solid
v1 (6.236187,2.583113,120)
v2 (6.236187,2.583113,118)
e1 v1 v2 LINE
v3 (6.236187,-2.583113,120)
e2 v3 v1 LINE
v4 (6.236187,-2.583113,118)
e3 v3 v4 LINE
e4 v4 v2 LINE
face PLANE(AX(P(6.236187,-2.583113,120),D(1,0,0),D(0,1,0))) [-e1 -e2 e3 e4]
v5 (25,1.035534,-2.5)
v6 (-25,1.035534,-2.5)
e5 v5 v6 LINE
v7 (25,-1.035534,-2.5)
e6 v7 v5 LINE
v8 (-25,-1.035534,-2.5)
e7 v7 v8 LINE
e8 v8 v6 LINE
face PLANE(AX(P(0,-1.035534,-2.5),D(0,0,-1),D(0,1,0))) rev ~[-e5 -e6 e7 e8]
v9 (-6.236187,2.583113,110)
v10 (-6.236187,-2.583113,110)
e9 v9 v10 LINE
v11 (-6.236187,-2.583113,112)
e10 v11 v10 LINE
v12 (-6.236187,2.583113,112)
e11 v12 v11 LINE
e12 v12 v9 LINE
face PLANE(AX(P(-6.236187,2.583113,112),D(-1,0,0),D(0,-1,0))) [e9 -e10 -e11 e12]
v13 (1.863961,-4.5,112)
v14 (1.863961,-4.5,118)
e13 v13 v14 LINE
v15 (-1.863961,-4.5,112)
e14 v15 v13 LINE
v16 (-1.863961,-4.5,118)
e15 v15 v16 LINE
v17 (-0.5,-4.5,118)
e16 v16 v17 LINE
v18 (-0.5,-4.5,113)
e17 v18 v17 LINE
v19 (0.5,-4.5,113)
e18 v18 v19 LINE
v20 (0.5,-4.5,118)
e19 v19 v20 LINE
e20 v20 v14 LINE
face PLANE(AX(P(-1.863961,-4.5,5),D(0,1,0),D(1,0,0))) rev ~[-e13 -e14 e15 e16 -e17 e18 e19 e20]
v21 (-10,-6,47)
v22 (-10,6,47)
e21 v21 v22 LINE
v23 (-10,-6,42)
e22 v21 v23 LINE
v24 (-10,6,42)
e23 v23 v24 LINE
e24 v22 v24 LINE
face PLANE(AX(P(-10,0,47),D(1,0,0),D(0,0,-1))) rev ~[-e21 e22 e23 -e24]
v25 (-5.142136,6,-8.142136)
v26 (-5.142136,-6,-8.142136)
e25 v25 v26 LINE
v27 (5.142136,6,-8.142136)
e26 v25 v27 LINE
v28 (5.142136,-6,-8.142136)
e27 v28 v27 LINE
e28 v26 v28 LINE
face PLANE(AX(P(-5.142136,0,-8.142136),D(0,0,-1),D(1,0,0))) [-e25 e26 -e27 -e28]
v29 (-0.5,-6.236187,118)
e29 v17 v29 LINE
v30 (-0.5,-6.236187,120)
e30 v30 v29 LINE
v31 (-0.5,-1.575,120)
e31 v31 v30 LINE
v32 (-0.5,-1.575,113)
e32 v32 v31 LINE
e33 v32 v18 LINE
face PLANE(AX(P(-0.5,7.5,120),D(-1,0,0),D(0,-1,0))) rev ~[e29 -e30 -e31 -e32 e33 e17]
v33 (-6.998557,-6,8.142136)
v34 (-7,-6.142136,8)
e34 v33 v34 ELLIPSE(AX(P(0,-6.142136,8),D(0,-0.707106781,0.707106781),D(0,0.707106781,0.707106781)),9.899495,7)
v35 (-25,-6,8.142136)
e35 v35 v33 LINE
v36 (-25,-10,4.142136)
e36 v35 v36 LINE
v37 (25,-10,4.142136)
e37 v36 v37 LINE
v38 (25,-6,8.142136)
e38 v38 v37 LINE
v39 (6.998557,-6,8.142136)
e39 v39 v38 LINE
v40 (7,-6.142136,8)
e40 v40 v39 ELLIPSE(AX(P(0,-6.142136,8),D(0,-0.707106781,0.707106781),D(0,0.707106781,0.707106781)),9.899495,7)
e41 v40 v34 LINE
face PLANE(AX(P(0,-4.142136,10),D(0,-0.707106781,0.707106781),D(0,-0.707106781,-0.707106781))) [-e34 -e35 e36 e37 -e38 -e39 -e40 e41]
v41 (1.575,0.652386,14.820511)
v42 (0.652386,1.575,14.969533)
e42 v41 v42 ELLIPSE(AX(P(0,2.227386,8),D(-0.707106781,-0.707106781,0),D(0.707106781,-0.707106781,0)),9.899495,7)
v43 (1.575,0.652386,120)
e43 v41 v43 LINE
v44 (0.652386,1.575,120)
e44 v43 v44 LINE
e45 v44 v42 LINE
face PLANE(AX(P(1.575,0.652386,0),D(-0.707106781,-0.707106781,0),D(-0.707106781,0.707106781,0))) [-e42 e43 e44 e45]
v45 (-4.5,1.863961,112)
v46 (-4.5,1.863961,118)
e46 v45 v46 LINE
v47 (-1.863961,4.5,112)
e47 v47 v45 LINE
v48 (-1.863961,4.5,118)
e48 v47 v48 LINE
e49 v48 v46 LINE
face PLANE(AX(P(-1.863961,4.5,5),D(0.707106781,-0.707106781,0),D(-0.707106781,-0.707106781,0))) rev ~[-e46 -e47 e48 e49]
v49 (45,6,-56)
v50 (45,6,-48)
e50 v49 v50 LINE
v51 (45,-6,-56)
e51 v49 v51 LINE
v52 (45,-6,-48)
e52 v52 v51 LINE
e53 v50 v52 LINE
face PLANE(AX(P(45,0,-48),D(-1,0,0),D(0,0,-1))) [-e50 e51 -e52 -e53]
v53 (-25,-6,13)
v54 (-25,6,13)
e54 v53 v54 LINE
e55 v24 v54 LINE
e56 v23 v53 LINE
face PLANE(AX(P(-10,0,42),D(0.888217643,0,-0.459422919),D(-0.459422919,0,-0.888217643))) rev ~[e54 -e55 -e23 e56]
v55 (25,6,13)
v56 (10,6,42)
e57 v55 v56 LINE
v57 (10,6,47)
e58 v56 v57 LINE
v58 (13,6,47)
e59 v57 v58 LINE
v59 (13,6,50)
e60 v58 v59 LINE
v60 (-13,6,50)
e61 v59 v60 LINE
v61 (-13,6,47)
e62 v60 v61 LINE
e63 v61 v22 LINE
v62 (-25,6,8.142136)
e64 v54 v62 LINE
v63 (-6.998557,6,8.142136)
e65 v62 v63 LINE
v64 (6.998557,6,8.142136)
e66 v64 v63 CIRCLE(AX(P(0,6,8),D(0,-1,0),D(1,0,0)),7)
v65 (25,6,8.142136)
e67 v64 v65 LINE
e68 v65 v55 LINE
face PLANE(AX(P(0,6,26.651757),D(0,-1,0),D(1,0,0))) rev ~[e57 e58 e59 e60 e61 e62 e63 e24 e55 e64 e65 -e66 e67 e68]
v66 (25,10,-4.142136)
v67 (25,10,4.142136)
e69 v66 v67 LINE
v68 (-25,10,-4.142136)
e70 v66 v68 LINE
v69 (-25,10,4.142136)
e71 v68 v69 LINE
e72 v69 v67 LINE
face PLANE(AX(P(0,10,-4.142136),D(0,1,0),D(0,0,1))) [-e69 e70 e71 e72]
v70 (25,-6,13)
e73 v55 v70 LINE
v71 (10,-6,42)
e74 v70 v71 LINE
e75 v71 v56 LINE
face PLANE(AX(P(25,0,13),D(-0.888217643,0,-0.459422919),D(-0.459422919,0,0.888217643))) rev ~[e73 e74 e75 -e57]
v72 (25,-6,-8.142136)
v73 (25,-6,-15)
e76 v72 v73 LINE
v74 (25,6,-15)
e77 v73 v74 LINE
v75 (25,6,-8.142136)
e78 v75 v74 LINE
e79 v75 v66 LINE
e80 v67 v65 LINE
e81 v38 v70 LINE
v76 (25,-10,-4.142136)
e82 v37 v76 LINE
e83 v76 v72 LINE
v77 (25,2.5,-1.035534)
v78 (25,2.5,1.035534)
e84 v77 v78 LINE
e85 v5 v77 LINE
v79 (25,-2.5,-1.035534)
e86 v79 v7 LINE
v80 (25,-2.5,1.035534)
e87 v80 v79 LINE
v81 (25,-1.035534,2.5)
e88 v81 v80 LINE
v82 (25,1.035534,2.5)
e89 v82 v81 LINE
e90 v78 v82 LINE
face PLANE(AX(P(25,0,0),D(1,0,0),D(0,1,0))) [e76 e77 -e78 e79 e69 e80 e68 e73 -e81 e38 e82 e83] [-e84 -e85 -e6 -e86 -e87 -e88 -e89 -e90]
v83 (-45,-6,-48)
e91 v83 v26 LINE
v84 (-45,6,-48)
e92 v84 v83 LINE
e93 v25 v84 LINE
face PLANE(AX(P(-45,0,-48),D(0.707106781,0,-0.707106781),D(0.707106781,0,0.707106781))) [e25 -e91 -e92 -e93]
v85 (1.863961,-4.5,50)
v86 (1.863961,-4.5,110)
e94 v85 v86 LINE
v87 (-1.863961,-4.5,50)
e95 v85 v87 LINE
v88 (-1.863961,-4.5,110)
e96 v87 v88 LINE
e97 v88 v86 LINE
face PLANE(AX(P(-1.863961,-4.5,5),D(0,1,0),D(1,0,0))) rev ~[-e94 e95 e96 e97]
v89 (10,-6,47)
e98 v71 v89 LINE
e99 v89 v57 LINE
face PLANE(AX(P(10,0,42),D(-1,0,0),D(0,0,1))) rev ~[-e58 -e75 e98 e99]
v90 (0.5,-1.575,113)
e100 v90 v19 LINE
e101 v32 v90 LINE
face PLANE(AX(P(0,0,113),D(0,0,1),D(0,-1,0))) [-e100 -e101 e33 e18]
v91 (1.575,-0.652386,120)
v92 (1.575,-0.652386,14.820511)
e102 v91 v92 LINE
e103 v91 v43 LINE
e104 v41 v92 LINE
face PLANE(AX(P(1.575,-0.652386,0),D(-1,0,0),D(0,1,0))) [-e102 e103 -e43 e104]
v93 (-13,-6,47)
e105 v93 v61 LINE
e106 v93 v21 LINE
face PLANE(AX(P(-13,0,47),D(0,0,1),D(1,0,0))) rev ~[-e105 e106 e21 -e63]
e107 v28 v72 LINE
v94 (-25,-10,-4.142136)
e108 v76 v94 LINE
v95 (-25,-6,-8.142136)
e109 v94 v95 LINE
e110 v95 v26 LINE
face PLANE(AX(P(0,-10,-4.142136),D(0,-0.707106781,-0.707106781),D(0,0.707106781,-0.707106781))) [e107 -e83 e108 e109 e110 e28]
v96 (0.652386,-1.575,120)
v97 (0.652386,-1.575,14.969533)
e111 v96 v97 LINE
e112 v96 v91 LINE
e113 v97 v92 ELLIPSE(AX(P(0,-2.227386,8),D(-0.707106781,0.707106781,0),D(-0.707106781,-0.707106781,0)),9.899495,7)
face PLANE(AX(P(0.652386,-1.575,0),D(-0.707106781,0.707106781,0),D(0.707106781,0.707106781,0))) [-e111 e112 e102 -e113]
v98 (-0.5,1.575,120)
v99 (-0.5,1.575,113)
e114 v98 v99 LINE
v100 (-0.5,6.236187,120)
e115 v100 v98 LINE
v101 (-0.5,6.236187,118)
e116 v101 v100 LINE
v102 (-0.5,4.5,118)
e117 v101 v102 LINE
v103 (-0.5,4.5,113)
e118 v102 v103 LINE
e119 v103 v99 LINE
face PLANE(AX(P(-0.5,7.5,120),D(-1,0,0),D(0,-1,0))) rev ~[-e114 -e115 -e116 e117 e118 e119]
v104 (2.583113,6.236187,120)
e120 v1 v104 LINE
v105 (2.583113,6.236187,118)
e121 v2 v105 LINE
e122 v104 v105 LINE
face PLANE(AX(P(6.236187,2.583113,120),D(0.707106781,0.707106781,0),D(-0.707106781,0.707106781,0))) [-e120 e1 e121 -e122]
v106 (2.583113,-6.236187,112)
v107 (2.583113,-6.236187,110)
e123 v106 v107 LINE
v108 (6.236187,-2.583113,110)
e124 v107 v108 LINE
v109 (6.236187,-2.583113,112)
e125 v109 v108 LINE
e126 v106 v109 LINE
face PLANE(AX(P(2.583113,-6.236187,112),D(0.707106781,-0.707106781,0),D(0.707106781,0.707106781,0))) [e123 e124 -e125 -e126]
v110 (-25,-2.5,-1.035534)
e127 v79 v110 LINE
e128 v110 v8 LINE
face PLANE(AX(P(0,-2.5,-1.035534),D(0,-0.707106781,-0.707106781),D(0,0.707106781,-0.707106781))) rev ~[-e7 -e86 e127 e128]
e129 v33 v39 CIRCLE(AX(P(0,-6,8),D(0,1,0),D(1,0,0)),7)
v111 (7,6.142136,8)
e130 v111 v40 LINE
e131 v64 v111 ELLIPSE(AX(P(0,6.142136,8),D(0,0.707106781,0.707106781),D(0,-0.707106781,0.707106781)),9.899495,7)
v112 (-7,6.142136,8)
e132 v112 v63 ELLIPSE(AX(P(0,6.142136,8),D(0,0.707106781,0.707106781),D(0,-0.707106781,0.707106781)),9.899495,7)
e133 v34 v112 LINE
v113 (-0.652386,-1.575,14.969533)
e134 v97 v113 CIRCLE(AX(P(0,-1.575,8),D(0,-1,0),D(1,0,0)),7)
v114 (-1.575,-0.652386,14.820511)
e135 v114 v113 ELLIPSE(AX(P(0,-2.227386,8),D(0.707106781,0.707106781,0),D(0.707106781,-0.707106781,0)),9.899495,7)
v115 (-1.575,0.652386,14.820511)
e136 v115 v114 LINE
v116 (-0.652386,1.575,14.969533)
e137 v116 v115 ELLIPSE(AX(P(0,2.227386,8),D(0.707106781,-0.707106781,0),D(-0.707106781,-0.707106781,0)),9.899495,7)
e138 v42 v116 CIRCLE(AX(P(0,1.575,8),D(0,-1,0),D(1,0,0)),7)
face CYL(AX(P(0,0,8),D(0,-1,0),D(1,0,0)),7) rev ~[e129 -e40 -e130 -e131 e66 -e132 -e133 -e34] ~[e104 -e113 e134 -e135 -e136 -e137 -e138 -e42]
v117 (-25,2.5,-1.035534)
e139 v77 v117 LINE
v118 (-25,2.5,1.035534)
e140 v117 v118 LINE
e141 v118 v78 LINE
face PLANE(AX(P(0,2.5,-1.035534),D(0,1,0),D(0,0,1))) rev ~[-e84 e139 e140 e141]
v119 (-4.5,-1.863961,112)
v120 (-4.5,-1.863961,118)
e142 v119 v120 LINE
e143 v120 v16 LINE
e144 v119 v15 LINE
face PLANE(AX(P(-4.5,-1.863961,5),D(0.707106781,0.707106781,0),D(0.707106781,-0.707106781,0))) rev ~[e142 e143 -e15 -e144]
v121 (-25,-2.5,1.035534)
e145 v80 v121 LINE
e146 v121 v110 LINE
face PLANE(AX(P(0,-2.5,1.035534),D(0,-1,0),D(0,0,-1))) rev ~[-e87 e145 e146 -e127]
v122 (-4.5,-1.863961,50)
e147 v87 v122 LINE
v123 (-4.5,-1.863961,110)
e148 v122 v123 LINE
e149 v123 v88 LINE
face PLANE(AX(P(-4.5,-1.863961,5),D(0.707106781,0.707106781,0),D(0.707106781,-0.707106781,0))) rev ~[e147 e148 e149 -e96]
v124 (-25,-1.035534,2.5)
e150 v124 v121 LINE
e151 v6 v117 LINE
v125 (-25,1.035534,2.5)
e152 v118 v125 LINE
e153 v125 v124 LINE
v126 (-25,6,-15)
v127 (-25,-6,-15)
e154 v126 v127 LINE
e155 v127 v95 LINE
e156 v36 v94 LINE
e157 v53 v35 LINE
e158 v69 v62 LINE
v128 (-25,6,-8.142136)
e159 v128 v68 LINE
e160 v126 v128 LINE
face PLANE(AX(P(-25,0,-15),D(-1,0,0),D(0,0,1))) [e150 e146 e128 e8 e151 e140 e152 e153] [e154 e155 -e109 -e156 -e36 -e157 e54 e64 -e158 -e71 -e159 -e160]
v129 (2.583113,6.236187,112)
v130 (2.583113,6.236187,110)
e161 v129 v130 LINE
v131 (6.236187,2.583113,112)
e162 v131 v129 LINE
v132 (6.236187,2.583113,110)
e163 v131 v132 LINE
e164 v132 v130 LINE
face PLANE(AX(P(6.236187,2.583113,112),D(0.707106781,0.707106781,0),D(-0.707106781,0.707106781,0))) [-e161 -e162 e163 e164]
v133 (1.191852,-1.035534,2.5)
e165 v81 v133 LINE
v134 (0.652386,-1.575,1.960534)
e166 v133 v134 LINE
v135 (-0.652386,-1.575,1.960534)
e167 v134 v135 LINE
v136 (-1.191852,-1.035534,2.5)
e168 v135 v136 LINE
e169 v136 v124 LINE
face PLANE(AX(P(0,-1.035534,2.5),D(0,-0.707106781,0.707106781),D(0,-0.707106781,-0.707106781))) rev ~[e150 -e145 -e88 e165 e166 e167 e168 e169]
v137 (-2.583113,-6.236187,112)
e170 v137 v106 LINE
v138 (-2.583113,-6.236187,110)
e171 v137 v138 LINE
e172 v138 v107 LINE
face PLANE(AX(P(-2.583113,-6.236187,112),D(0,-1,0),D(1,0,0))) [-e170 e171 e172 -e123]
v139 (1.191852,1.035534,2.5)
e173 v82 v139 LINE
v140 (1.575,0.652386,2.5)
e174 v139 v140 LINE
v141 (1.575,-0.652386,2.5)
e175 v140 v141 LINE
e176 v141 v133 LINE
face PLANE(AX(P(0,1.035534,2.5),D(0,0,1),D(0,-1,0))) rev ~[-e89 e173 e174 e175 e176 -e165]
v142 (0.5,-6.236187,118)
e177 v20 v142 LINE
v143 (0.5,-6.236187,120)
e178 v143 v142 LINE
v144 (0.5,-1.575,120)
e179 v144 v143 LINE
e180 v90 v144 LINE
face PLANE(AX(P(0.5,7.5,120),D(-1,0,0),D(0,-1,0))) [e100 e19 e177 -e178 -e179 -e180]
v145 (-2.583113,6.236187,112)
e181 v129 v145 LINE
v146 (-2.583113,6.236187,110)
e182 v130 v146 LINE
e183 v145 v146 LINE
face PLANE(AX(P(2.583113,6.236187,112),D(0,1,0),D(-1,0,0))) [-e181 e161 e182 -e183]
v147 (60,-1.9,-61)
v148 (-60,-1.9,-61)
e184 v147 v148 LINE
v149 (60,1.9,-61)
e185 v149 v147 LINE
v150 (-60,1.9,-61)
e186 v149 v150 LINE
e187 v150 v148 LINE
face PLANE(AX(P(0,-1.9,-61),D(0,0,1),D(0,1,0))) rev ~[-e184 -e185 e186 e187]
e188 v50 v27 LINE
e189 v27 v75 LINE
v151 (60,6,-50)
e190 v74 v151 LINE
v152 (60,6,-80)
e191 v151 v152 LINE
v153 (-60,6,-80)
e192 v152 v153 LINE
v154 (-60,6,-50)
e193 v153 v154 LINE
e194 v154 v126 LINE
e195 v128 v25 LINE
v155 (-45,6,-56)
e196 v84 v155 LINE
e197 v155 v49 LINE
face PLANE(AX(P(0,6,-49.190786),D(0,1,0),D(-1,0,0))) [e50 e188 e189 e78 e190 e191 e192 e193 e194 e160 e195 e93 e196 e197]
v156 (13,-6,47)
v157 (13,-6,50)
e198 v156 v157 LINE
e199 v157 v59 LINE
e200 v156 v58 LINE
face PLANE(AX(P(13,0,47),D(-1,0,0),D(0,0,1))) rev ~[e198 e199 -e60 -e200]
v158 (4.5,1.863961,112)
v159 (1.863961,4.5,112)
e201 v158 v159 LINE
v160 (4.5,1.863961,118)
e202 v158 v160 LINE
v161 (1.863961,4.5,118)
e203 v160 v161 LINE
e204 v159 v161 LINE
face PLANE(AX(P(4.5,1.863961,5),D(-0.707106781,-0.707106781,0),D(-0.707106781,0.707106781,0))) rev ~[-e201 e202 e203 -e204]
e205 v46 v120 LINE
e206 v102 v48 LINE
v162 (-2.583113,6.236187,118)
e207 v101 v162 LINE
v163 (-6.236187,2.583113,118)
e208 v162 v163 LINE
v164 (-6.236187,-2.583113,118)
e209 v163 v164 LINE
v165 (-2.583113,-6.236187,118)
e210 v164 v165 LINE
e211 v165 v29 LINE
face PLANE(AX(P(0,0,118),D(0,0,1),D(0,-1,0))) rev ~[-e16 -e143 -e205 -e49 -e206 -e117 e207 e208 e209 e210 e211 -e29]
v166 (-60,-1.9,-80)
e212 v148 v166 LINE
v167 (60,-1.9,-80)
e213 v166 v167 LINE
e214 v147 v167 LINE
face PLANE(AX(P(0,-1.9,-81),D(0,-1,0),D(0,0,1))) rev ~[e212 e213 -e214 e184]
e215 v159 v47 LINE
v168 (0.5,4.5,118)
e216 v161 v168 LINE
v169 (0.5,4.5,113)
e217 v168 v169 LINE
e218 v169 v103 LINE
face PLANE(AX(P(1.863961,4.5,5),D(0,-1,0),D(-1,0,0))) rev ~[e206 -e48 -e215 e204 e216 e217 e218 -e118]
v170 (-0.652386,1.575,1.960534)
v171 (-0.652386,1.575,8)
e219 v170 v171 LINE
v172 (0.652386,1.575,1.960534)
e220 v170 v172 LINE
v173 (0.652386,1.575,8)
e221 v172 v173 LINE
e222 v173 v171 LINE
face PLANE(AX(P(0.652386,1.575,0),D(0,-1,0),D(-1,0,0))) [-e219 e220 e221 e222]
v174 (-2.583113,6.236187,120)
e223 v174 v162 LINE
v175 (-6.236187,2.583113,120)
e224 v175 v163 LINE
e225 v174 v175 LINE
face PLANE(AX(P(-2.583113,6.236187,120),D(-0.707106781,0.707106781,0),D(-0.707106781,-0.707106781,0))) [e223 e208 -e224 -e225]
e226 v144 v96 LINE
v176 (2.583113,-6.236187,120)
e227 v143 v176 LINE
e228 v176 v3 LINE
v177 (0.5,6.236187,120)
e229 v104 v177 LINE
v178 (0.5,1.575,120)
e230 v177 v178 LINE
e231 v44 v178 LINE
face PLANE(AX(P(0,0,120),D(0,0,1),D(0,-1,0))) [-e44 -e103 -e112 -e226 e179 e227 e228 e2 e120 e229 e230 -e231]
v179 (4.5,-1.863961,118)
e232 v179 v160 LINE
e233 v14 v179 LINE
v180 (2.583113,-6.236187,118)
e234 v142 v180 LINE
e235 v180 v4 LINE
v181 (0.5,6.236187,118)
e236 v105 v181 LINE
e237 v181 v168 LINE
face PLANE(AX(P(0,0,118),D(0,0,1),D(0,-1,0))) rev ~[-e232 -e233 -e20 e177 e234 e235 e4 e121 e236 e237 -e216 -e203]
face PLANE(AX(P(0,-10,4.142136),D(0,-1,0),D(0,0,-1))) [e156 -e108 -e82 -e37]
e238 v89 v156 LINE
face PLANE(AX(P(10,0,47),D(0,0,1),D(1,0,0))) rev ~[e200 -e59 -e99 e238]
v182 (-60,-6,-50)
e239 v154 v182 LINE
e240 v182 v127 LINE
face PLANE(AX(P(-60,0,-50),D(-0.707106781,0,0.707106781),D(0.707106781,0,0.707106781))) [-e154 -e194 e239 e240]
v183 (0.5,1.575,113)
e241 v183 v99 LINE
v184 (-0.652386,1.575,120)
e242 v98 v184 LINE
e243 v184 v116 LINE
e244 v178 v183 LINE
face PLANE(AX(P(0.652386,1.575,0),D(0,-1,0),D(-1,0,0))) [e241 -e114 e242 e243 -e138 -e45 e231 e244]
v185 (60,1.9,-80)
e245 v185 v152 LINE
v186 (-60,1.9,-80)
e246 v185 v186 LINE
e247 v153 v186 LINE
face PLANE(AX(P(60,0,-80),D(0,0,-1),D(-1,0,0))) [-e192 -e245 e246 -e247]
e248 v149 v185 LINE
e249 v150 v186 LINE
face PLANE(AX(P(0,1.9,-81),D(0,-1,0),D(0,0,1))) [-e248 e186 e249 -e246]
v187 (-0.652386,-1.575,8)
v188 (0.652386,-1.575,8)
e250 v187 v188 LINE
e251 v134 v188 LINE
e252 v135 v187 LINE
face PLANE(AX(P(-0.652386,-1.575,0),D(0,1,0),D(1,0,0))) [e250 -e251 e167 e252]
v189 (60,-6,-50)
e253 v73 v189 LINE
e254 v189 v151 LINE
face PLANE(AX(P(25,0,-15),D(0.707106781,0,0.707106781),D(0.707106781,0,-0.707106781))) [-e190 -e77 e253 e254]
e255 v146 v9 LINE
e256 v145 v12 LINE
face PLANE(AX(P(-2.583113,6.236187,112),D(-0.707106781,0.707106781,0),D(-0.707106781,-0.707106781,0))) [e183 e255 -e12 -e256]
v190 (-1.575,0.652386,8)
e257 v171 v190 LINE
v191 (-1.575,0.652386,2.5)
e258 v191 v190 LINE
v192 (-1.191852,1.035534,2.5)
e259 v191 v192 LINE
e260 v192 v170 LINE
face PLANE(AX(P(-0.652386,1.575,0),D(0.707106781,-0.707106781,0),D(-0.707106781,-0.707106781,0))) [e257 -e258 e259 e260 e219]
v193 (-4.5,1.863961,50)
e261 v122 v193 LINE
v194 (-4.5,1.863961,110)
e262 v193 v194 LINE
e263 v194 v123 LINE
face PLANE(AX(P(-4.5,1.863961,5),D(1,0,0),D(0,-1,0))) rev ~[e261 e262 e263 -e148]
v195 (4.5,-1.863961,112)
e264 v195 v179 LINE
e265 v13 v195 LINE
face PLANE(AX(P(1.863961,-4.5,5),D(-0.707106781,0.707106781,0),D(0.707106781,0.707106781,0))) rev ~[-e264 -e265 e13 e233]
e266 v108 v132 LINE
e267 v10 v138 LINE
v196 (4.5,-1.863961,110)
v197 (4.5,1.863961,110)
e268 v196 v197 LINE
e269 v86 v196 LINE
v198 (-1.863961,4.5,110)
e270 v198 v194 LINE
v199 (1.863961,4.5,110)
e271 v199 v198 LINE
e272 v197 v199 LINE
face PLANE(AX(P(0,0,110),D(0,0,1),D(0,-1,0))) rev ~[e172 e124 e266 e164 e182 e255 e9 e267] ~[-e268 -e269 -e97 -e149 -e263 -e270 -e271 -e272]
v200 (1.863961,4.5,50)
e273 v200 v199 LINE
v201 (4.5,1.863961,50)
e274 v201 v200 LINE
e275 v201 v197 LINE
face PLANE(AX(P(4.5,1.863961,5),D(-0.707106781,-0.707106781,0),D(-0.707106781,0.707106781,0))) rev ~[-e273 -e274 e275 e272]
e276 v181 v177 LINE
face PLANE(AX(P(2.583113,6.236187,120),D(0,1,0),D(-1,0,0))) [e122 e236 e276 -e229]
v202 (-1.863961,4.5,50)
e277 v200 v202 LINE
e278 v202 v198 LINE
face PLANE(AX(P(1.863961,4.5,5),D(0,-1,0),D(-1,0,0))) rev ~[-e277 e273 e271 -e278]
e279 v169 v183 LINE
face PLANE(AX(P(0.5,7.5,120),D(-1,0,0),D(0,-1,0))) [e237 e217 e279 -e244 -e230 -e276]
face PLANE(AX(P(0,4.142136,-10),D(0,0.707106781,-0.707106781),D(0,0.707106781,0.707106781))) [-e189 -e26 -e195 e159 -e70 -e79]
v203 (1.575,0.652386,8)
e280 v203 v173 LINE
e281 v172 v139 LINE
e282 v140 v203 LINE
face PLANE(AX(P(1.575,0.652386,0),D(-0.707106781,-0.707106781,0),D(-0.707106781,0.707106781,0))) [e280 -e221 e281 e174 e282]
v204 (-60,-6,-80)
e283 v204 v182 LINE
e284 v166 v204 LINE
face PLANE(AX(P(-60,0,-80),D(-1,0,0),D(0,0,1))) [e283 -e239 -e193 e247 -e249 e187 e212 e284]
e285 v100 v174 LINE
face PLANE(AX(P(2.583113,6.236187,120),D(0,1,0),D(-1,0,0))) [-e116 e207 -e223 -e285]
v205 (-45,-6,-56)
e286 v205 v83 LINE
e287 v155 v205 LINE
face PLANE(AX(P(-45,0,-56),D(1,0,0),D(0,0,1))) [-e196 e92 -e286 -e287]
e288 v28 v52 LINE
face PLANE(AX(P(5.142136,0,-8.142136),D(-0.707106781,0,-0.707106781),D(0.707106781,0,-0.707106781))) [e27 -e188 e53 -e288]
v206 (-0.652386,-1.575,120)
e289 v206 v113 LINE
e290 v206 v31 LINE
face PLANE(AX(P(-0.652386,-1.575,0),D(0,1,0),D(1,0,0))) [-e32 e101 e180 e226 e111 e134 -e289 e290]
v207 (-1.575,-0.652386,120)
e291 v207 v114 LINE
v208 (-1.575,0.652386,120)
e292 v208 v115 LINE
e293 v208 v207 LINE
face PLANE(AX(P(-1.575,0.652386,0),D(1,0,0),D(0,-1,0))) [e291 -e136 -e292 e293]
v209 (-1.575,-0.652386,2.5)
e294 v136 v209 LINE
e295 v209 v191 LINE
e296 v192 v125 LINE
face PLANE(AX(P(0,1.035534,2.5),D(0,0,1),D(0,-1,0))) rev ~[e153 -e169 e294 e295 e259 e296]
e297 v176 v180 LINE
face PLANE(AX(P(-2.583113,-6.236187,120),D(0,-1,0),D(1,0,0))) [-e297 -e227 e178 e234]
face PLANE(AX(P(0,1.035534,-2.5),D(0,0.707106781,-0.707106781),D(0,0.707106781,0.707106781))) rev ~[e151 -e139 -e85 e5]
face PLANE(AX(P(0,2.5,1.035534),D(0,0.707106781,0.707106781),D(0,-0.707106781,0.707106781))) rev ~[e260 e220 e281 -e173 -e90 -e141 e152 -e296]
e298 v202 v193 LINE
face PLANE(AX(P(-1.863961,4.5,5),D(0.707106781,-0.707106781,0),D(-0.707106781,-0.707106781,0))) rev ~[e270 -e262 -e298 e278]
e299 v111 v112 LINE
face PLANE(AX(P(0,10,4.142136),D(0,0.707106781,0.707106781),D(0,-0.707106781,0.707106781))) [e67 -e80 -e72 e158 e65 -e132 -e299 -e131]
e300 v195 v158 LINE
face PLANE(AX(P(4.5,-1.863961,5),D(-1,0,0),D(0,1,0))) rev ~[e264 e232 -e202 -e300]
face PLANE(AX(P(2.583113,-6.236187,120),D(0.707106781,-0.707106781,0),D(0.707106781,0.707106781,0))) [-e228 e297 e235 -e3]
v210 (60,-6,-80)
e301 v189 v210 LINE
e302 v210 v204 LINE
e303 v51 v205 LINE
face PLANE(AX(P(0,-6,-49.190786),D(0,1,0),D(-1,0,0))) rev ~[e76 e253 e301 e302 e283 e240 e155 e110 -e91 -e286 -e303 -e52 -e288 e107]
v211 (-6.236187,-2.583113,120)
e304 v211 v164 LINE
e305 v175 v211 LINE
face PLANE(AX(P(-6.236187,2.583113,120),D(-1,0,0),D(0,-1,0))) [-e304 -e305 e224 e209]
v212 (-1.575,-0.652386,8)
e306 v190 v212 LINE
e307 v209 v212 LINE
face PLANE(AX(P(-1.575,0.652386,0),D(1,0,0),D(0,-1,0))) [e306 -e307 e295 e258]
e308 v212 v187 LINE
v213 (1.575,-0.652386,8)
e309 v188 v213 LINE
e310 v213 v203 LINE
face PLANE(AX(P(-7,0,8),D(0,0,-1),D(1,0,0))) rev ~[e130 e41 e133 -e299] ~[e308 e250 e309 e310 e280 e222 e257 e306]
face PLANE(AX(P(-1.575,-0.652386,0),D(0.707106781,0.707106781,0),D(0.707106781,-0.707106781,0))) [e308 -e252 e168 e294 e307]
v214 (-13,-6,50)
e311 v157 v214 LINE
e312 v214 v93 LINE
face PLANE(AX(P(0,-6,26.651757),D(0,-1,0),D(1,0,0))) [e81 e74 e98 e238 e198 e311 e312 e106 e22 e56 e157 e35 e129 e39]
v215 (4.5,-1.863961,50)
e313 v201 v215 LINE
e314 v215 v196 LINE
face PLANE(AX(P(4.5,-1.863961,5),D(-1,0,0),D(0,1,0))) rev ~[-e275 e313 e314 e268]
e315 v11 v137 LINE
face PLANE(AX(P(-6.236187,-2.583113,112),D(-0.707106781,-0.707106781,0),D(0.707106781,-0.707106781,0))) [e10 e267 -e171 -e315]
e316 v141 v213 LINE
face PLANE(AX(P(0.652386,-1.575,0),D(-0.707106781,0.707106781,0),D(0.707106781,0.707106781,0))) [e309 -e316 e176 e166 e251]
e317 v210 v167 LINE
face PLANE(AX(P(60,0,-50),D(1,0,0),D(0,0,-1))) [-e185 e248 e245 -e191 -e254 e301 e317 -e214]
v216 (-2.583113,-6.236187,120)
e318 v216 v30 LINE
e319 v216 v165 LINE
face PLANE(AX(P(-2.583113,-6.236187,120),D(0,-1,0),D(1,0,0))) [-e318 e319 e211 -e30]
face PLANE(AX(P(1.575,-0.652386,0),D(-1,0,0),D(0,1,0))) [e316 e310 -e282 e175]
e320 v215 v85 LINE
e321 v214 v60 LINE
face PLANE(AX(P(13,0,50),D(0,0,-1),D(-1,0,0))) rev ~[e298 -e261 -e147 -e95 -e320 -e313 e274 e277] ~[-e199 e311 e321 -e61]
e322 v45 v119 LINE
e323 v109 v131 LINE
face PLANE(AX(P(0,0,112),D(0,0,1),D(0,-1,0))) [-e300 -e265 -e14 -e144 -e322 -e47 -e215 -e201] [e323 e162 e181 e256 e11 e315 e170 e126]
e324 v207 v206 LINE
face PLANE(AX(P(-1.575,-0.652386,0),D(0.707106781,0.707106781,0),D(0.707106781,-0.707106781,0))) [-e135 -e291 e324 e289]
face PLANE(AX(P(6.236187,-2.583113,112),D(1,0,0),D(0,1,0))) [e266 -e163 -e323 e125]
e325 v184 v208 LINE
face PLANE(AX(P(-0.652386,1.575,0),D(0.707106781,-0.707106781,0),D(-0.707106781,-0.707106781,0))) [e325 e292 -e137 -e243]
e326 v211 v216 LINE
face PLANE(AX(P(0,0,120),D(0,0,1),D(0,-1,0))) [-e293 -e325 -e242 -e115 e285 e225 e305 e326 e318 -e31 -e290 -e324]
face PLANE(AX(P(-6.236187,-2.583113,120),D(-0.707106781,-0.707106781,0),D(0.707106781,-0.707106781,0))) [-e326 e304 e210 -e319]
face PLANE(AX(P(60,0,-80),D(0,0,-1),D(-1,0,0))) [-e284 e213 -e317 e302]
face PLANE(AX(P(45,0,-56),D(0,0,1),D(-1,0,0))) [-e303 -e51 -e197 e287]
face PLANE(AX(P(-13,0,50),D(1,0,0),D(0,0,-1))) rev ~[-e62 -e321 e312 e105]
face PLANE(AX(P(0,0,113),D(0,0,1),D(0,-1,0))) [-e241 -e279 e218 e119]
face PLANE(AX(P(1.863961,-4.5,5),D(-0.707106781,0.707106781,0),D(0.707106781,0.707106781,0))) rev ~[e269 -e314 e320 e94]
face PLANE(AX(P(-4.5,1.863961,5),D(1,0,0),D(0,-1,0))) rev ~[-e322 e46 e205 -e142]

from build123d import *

# Parameters (mm, degrees)
PAD_DEPTH            = 25
PAD_DEPTH_BACK       = 25
PAD001_START         = 5
PAD001_DEPTH         = 115
PAD002_DEPTH         = 6
PAD002_DEPTH_BACK    = 6
POCKET_DEPTH         = 10.001
POCKET_DEPTH_BACK    = 10.001
POCKET001_DEPTH      = 120.001
PAD003_DEPTH         = 2
LINEARPATTERN_COUNT  = 2
LINEARPATTERN_PITCH  = 8
SKETCH006_W          = 15
SKETCH006_H          = 1
POCKET002_DEPTH      = 7
PAD004_DEPTH         = 6
PAD004_DEPTH_BACK    = 6
SKETCH008_W          = 3.8
SKETCH008_H          = 20
POCKET003_DEPTH      = 60.001
POCKET003_DEPTH_BACK = 60.001
POCKET004_DEPTH      = 10.001
POCKET004_DEPTH_BACK = 10.001


with BuildPart() as part:
    # Sketch → Pad (new body, two sides)
    with BuildSketch(Plane.YZ) as pad_sk:
        Polygon((10, -4.142136), (10, 4.142136), (4.142136, 10), (-4.142136, 10), (-10, 4.142136), (-10, -4.142136), (-4.142136, -10), (4.142136, -10), align=None)
        Polygon((2.5, 1.035534), (1.035534, 2.5), (-1.035534, 2.5), (-2.5, 1.035534), (-2.5, -1.035534), (-1.035534, -2.5), (1.035534, -2.5), (2.5, -1.035534), align=None, mode=Mode.SUBTRACT)
    extrude(amount=PAD_DEPTH)
    extrude(pad_sk.sketch, amount=-PAD_DEPTH_BACK)

    # Sketch001 → Pad001 (join)
    with BuildSketch(Plane.XY.offset(PAD001_START)):
        Polygon((4.5, -1.863961), (4.5, 1.863961), (1.863961, 4.5), (-1.863961, 4.5), (-4.5, 1.863961), (-4.5, -1.863961), (-1.863961, -4.5), (1.863961, -4.5), align=None)
        Polygon((1.575, -0.652386), (1.575, 0.652386), (0.652386, 1.575), (-0.652386, 1.575), (-1.575, 0.652386), (-1.575, -0.652386), (-0.652386, -1.575), (0.652386, -1.575), align=None, mode=Mode.SUBTRACT)
    extrude(amount=PAD001_DEPTH)

    # Sketch002 → Pad002 (join, two sides)
    with BuildSketch(Plane.XZ) as pad002_sk:
        Polygon((-25, 8), (25, 8), (25, 13), (10, 42), (10, 47), (13, 47), (13, 50), (-13, 50), (-13, 47), (-10, 47), (-10, 42), (-25, 13), align=None)
    extrude(amount=PAD002_DEPTH)
    extrude(pad002_sk.sketch, amount=-PAD002_DEPTH_BACK)

    # Sketch003 → Pocket (cut, two sides)
    with BuildSketch(Plane.XZ) as pocket_sk:
        with BuildLine():
            ThreePointArc((7, 8), (0, 15), (-7, 8))
            Line((-7, 8), (7, 8))
        make_face()
    extrude(amount=-POCKET_DEPTH, mode=Mode.SUBTRACT)
    extrude(pocket_sk.sketch, amount=POCKET_DEPTH_BACK, mode=Mode.SUBTRACT)

    # Sketch004 → Pocket001 (cut, through all)
    with BuildSketch(Plane.XY):
        Polygon((1.575, -0.652386), (1.575, 0.652386), (0.652386, 1.575), (-0.652386, 1.575), (-1.575, 0.652386), (-1.575, -0.652386), (-0.652386, -1.575), (0.652386, -1.575), align=None)
    extrude(amount=POCKET001_DEPTH, mode=Mode.SUBTRACT)

    # Sketch005 (on Face68 of Pocket001) → Pad003 (join)
    with BuildSketch(Plane(origin=(0, 0, 120), x_dir=(0, -1, 0), z_dir=(0, 0, 1))):
        Polygon((6.236187, -2.583113), (6.236187, 2.583113), (2.583113, 6.236187), (-2.583113, 6.236187), (-6.236187, 2.583113), (-6.236187, -2.583113), (-2.583113, -6.236187), (2.583113, -6.236187), align=None)
        Polygon((1.339392, -3.233578), (3.233578, -1.339392), (3.233578, 1.339392), (1.339392, 3.233578), (-1.339392, 3.233578), (-3.233578, 1.339392), (-3.233578, -1.339392), (-1.339392, -3.233578), align=None, mode=Mode.SUBTRACT)
    pad003 = extrude(amount=-PAD003_DEPTH)

    # LinearPattern: Pad003 ×2
    with Locations(*[(0, 0, -i * LINEARPATTERN_PITCH) for i in range(1, LINEARPATTERN_COUNT)]):
        add(pad003)

    # Sketch006 (on Face80 of LinearPattern) → Pocket002 (cut)
    with BuildSketch(Plane(origin=(0, 0, 120), x_dir=(0, -1, 0), z_dir=(0, 0, 1))):
        Rectangle(SKETCH006_W, SKETCH006_H)
    extrude(amount=-POCKET002_DEPTH, mode=Mode.SUBTRACT)

    # Sketch007 → Pad004 (join, two sides)
    with BuildSketch(Plane.XZ) as pad004_sk:
        Polygon((-25, -5), (25, -5), (25, -15), (60, -50), (60, -80), (-60, -80), (-60, -50), (-25, -15), align=None)
    extrude(amount=PAD004_DEPTH)
    extrude(pad004_sk.sketch, amount=-PAD004_DEPTH_BACK)

    # Sketch008 → Pocket003 (cut, two sides)
    with BuildSketch(Plane.YZ) as pocket003_sk:
        with Locations((0, -71)):
            Rectangle(SKETCH008_W, SKETCH008_H)
    extrude(amount=-POCKET003_DEPTH, mode=Mode.SUBTRACT)
    extrude(pocket003_sk.sketch, amount=POCKET003_DEPTH_BACK, mode=Mode.SUBTRACT)

    # Sketch009 → Pocket004 (cut, two sides)
    with BuildSketch(Plane.XZ) as pocket004_sk:
        Polygon((-5.142136, -8.142136), (5.142136, -8.142136), (45, -48), (45, -56), (-45, -56), (-45, -48), align=None)
    extrude(amount=-POCKET004_DEPTH, mode=Mode.SUBTRACT)
    extrude(pocket004_sk.sketch, amount=POCKET004_DEPTH_BACK, mode=Mode.SUBTRACT)


solid = part.part
